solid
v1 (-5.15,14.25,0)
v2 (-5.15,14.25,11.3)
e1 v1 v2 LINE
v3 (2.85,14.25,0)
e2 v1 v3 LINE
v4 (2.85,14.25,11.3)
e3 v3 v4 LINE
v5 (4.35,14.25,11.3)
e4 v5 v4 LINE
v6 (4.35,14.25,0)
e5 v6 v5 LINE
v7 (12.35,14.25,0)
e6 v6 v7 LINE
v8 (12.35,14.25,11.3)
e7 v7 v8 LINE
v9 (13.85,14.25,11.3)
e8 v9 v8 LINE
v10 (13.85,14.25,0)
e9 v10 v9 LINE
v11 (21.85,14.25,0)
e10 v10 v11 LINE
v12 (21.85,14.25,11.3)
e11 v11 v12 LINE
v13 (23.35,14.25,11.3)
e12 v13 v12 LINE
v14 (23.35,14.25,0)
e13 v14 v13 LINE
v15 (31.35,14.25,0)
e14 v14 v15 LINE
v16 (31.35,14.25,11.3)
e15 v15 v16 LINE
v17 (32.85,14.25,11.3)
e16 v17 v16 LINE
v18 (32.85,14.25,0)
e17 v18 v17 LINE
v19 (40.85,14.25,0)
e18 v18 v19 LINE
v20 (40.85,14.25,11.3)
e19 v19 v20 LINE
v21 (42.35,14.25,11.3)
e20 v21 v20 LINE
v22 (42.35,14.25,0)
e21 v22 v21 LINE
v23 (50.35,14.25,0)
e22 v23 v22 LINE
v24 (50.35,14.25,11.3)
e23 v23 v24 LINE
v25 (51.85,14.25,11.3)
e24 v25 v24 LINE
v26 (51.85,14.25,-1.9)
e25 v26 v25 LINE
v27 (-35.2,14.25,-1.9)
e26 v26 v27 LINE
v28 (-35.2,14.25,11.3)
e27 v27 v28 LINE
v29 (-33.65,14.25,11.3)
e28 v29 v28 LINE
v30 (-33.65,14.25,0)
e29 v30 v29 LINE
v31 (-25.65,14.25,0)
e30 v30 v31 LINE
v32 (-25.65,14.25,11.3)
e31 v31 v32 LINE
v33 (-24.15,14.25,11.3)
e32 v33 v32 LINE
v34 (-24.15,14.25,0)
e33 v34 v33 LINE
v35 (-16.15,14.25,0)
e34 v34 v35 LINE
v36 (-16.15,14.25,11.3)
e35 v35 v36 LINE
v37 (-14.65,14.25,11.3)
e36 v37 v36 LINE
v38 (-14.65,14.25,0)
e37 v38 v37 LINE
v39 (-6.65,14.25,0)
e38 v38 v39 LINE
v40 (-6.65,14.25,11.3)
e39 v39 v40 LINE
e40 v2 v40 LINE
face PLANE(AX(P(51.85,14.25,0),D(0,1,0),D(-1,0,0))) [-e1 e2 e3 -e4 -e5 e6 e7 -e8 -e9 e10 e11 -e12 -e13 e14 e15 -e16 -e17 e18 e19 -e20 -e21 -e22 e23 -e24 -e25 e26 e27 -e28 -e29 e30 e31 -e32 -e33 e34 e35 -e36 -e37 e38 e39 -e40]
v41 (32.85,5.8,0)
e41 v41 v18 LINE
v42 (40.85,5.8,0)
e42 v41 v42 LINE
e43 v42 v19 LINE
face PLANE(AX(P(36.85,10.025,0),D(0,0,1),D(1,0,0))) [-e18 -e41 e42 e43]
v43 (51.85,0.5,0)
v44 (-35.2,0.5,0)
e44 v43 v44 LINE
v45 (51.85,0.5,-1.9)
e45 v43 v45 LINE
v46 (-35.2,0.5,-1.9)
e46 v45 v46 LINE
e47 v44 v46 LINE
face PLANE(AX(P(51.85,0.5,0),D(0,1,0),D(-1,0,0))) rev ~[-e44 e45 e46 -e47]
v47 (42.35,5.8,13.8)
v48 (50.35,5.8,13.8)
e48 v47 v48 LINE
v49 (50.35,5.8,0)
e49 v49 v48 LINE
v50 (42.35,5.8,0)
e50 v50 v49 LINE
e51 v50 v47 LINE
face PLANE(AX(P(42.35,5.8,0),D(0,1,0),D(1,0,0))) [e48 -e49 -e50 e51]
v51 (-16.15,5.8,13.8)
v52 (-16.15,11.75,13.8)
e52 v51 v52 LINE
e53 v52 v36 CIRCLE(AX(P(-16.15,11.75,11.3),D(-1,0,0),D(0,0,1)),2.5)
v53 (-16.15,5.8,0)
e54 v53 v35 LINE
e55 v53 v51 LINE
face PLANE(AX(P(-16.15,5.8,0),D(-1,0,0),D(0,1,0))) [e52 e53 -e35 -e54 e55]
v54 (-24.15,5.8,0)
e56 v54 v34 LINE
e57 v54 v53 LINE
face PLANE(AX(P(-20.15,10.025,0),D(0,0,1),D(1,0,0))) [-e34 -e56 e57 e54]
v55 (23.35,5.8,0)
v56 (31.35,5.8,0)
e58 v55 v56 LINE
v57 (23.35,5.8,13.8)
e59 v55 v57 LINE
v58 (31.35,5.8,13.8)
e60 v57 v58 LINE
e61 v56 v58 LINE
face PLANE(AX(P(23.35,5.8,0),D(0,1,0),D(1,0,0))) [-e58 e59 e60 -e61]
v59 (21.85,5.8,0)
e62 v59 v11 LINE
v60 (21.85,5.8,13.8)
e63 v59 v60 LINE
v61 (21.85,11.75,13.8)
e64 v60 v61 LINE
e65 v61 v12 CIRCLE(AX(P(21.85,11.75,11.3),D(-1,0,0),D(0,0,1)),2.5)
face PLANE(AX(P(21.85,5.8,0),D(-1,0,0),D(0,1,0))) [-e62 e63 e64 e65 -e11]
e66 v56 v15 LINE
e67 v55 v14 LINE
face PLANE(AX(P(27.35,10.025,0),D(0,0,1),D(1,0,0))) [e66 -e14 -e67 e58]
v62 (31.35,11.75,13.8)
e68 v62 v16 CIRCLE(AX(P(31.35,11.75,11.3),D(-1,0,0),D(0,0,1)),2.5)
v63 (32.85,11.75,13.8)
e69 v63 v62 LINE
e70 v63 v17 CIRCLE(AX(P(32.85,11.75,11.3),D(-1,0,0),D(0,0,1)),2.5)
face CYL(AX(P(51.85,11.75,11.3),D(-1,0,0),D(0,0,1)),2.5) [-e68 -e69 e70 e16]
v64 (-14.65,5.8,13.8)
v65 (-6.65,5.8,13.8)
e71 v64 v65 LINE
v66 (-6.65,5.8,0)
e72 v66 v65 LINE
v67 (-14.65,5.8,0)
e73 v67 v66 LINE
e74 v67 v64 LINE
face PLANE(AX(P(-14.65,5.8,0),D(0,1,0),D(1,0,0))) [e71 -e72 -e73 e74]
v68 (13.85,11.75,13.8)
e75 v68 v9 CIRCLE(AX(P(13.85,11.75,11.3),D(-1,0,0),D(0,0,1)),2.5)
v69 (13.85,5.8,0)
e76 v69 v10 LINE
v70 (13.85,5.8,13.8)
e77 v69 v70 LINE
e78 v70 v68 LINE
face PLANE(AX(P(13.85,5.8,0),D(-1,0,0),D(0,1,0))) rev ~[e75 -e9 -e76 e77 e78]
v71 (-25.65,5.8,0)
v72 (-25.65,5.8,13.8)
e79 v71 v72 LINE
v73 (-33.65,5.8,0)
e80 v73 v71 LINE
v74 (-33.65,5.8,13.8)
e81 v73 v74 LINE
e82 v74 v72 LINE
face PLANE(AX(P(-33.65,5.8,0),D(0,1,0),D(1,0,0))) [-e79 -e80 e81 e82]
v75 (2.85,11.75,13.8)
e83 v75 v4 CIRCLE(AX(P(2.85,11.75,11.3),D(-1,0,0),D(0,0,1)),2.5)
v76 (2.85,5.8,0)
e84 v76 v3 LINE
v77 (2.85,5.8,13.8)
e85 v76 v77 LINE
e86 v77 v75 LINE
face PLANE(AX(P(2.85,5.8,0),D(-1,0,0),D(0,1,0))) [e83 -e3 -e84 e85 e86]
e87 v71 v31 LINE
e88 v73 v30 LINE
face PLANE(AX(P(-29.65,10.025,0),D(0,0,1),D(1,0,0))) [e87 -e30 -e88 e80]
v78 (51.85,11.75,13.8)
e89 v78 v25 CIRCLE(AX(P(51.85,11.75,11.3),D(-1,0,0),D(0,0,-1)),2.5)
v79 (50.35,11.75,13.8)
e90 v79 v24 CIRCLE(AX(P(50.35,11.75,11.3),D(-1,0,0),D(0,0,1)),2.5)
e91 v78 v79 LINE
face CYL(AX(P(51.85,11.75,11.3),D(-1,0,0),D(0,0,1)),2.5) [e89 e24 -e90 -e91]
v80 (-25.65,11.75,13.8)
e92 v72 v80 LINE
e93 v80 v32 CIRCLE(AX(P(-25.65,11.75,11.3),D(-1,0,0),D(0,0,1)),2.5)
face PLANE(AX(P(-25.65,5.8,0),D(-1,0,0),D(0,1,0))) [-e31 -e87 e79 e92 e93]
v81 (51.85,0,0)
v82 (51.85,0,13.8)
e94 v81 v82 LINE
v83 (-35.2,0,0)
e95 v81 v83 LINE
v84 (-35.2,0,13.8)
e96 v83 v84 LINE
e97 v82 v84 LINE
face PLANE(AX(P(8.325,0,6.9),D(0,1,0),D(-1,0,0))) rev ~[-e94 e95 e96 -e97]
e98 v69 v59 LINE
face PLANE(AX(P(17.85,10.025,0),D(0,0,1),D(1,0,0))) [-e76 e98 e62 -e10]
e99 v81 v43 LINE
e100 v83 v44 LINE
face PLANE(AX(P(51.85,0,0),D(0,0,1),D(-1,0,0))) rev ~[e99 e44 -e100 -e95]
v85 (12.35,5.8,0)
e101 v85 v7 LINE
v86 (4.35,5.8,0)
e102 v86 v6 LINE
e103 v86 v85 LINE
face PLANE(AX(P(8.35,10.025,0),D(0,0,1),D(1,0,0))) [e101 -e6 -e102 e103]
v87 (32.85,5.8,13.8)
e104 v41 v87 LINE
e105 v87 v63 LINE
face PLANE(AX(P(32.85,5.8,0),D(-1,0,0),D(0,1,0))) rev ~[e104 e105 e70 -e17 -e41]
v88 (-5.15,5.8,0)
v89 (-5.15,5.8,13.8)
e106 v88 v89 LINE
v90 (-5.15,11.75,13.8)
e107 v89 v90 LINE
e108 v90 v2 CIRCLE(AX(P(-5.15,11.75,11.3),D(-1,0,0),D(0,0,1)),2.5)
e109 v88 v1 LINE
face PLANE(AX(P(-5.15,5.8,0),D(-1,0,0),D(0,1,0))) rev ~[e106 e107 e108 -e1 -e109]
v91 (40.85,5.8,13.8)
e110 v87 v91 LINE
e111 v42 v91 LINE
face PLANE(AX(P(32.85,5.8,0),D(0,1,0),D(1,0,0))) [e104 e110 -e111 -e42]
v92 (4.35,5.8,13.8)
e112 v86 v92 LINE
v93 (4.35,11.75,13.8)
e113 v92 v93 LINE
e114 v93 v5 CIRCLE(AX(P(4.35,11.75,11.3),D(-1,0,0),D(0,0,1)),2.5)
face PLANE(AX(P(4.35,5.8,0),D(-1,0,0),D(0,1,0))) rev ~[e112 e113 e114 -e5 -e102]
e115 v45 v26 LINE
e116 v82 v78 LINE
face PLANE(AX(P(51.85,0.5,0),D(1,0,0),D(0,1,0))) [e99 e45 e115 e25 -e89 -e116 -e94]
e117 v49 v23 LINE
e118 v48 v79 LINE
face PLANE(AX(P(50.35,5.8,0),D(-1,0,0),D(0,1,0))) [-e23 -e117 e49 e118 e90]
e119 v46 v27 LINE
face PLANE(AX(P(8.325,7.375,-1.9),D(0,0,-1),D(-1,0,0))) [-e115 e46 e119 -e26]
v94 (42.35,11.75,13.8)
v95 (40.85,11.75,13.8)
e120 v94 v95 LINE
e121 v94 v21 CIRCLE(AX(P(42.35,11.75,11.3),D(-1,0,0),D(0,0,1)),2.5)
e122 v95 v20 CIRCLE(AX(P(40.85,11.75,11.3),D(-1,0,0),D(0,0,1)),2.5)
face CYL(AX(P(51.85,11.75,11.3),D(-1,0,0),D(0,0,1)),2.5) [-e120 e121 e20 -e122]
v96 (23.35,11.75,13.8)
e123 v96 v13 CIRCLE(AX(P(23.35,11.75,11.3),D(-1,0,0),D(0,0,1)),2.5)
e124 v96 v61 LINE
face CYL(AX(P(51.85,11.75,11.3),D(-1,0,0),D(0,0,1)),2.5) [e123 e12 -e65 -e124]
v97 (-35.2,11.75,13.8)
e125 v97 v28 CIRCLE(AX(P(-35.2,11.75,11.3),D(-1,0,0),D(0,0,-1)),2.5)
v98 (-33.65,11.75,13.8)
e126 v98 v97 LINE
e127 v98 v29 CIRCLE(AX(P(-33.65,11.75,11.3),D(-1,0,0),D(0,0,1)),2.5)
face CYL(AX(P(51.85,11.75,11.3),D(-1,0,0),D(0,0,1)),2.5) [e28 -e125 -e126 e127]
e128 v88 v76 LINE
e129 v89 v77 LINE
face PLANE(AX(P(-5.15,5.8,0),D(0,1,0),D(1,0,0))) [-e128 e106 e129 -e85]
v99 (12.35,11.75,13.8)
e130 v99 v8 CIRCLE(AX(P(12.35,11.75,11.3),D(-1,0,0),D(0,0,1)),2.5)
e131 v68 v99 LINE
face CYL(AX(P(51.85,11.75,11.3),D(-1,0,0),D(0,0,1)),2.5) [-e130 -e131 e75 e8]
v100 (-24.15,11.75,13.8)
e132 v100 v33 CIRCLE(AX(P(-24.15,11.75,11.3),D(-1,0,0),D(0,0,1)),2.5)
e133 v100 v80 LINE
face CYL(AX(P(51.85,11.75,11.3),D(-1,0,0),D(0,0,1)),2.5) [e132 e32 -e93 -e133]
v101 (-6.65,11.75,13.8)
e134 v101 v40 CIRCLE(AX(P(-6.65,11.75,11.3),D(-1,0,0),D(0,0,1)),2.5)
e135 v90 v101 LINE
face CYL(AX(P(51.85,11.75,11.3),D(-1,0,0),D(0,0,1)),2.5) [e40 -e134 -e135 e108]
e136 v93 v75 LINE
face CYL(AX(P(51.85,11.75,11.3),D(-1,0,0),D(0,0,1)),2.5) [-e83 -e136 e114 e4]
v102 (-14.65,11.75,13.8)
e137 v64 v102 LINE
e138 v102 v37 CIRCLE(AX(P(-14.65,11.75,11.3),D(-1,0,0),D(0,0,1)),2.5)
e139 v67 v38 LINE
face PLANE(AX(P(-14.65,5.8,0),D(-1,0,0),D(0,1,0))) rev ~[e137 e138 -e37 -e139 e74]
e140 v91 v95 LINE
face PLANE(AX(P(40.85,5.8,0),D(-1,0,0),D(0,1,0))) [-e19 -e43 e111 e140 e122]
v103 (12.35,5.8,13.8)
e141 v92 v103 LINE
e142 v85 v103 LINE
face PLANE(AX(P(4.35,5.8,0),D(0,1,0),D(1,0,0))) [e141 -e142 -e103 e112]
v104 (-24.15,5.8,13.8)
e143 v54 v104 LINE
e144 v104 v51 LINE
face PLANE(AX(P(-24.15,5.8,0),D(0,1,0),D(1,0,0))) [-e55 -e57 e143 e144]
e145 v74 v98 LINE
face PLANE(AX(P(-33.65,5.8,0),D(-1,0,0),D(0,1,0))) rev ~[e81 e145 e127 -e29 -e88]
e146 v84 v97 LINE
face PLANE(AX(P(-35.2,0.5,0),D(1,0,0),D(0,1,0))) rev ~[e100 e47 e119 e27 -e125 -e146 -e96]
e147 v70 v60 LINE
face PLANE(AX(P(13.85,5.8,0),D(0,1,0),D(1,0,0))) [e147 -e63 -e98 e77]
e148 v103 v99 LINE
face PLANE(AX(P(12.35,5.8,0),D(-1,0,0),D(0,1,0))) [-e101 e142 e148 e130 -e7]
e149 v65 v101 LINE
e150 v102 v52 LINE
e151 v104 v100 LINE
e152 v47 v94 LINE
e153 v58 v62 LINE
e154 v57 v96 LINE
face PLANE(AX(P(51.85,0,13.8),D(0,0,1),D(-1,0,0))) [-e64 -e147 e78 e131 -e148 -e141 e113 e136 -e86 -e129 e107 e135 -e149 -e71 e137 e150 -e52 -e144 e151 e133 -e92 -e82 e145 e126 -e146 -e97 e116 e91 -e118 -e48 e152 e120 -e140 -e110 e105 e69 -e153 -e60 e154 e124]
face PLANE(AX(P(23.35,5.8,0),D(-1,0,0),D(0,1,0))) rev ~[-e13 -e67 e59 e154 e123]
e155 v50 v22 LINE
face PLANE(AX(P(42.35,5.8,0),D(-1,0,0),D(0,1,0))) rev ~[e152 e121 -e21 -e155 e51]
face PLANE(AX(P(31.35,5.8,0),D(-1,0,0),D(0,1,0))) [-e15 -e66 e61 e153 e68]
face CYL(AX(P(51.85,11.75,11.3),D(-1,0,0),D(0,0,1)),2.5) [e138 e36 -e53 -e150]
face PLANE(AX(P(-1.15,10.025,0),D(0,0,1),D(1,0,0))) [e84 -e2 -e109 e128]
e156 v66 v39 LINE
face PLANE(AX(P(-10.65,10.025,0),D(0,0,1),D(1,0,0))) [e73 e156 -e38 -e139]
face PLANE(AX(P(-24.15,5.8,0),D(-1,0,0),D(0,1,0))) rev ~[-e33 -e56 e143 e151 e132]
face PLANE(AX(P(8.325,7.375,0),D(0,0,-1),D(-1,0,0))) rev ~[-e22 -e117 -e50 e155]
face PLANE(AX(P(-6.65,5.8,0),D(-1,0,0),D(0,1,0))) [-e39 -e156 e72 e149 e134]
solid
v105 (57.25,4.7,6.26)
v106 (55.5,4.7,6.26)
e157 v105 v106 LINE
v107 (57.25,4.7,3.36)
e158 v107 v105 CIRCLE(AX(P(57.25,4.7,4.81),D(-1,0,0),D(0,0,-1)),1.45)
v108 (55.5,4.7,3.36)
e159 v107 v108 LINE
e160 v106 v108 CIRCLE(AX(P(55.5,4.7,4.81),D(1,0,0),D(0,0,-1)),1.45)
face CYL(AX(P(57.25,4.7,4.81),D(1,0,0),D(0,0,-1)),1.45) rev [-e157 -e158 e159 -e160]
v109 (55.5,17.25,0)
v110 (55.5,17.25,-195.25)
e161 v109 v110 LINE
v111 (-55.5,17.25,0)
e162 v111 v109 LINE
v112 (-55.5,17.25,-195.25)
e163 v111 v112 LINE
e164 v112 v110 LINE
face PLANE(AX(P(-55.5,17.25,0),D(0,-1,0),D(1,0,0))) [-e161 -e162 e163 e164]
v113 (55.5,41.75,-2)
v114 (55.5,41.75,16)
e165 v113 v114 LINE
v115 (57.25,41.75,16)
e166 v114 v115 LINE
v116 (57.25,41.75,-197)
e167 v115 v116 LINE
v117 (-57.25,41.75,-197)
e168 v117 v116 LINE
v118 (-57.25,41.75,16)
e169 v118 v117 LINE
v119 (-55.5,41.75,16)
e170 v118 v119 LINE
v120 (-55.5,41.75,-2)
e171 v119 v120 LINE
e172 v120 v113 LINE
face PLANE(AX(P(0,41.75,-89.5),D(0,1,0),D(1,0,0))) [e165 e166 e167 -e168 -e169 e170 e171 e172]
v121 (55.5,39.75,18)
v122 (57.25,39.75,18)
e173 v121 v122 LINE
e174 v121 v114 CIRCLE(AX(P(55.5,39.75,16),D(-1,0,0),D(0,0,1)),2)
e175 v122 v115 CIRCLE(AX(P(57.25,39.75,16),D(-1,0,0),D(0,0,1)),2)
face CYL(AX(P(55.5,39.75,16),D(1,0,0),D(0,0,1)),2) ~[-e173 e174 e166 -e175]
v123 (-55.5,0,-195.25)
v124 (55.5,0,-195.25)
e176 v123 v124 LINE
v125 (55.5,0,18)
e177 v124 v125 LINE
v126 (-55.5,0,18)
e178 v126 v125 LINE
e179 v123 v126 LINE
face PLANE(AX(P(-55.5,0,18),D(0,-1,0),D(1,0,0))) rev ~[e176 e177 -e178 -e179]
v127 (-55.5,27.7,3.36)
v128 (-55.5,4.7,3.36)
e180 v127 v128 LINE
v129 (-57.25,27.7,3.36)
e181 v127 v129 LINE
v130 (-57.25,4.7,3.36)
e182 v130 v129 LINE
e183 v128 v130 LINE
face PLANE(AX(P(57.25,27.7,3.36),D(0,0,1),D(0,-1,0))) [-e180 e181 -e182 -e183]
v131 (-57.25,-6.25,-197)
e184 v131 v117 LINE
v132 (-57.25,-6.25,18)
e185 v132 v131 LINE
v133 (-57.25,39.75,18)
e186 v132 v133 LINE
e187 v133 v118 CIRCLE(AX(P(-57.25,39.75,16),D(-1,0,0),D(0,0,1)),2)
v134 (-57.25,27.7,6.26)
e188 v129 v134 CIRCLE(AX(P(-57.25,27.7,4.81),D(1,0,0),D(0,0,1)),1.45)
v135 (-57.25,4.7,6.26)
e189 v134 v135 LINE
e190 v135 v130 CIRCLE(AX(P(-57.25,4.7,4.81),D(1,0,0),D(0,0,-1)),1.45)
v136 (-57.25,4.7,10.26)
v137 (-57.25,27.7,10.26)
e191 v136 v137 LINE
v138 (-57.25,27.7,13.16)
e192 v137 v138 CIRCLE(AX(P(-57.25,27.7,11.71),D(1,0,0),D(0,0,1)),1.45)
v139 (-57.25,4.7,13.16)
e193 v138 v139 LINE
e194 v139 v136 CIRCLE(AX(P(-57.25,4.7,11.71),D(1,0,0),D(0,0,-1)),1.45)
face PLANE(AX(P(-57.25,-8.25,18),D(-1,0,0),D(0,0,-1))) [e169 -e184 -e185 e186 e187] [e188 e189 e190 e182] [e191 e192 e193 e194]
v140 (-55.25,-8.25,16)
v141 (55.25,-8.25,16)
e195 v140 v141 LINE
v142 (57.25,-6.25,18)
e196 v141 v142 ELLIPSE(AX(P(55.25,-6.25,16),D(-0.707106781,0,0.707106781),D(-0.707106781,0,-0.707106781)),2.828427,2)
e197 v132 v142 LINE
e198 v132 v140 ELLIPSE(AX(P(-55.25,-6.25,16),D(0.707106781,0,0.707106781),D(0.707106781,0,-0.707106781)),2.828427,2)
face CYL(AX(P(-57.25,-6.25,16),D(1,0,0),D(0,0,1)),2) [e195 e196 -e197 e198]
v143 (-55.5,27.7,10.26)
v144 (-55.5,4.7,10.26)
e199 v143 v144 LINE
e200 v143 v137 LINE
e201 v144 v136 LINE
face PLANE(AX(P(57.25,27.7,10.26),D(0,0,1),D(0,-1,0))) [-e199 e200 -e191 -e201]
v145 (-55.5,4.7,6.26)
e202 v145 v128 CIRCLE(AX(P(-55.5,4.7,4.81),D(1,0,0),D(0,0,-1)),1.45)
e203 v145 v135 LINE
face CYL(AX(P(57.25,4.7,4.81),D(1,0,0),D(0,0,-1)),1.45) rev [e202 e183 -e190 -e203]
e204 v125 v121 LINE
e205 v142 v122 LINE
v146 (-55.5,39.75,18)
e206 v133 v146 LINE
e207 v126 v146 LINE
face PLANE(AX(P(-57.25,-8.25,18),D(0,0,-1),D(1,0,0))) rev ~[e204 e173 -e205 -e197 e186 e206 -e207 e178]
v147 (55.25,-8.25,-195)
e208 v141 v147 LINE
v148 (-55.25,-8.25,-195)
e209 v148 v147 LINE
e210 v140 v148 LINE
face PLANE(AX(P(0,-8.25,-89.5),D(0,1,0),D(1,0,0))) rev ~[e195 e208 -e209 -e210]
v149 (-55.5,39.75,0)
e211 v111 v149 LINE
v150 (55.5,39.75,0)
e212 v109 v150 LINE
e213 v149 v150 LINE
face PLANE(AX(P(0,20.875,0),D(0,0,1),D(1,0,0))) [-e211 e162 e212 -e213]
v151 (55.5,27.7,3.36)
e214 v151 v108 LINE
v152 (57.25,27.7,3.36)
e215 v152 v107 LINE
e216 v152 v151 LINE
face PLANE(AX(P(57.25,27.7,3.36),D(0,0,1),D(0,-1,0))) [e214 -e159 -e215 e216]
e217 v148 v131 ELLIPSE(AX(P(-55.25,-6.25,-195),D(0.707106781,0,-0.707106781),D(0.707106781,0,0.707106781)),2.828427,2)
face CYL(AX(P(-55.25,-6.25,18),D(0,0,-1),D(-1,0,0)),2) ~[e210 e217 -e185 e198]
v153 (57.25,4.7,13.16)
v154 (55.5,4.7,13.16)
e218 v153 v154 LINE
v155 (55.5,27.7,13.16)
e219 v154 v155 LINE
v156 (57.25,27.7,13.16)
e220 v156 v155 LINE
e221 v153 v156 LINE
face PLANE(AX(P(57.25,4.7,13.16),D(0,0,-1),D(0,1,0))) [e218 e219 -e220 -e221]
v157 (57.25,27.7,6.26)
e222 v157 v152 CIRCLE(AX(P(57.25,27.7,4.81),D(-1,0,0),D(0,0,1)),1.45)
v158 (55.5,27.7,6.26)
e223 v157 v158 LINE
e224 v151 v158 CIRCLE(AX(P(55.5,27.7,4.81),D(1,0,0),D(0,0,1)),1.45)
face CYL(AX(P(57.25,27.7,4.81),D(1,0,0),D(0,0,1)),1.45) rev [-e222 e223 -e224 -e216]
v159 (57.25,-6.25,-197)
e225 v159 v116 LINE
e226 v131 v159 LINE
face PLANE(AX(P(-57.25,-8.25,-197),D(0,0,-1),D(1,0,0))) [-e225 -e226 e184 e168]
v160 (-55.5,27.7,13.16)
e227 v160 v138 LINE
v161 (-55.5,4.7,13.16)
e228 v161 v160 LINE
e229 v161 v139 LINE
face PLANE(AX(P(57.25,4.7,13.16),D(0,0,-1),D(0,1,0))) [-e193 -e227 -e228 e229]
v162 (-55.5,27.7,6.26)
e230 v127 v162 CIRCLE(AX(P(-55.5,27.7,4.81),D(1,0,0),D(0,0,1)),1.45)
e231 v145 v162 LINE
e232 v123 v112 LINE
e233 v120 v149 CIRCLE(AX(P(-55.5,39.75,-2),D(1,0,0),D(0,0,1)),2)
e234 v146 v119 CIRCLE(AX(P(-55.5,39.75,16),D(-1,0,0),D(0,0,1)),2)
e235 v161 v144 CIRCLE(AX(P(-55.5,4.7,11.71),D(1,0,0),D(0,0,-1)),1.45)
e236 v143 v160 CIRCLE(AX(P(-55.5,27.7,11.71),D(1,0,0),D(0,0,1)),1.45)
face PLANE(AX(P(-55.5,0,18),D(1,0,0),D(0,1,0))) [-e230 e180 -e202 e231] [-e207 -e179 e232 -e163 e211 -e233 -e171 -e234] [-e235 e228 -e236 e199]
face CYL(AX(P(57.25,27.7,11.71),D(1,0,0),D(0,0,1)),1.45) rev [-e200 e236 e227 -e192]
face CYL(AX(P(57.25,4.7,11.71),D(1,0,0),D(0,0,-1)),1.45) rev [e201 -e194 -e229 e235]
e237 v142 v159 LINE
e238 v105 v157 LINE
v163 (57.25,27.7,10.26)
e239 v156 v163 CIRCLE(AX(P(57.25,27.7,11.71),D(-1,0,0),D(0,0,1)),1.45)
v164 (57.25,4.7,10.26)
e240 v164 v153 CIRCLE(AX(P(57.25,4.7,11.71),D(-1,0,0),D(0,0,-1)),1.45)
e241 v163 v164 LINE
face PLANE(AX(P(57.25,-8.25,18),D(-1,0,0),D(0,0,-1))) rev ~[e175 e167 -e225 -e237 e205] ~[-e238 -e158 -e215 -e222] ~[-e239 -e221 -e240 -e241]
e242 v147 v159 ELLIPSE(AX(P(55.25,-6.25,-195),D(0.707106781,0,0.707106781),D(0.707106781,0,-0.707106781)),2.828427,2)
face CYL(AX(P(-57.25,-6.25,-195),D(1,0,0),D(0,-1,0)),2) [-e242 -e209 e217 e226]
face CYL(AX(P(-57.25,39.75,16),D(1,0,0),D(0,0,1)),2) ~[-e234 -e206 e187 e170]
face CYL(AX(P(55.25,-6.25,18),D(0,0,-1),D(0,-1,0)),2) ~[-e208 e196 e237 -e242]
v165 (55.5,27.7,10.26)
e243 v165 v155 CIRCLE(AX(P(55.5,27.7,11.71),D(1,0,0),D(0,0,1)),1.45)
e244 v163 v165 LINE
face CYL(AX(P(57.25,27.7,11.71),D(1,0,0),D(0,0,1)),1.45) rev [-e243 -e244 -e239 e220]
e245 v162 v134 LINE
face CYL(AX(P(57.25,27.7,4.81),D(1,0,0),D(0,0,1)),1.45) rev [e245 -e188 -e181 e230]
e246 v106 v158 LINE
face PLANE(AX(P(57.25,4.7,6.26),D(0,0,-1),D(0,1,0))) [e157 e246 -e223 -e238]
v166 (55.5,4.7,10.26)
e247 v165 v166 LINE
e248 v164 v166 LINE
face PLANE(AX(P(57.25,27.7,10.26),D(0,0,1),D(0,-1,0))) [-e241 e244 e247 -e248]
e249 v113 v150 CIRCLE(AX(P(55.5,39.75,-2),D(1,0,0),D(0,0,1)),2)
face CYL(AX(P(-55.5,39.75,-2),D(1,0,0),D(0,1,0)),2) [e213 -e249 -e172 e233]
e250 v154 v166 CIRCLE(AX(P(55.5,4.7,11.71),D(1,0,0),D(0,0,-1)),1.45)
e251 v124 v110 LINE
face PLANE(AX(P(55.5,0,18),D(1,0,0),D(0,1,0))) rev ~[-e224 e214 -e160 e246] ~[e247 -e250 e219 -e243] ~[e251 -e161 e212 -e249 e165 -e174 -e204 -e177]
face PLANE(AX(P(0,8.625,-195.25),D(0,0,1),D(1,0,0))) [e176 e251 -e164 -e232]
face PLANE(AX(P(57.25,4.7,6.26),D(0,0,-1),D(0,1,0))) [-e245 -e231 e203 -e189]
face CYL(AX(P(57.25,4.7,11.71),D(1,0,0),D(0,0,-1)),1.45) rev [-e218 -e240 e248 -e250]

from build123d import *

# Parameters (mm, degrees)
BOSS_EXTRUDE1_DEPTH      = 41.75
BOSS_EXTRUDE1_DEPTH_BACK = 8.25
SKETCH1_W                = 114.5
SKETCH1_H                = 215
SKETCH2_W                = 111
SKETCH2_H                = 41.75
CUT_EXTRUDE1_DEPTH       = 18
CUT_EXTRUDE2_DEPTH       = 232.651273469
FILLET1_R                = 2
SKETCH4_W                = 87.05
SKETCH4_H                = 13.8
BOSS_EXTRUDE2_DEPTH      = 14.25
SKETCH7_W                = 111
SKETCH7_H                = 17.25
CUT_EXTRUDE4_DEPTH       = 195.25
FILLET2_R                = 2.5
CUT_EXTRUDE3_START       = -13.8
SKETCH6_W                = 8
SKETCH6_H                = 8.45
CUT_EXTRUDE3_DEPTH       = 13.8
SKETCH9_W                = 87.05
SKETCH9_H                = 13.75
BOSS_EXTRUDE6_DEPTH      = 1.9
LPATTERN1_COUNT          = 9
LPATTERN1_PITCH          = 9.5


with BuildPart() as part:
    # Sketch1 → Boss-Extrude1 (new, two sides: drawn at the far end of the back side and taken through both)
    with BuildSketch(Plane(origin=(0, 0, 0), x_dir=(1, 0, 0), z_dir=(0, 1, 0)).offset(-BOSS_EXTRUDE1_DEPTH_BACK)):
        with Locations((0, 89.5)):
            Rectangle(SKETCH1_W, SKETCH1_H)
    extrude(amount=BOSS_EXTRUDE1_DEPTH + BOSS_EXTRUDE1_DEPTH_BACK)

    # Sketch2 → Cut-Extrude1 (cut)
    with BuildSketch(Plane.XY.offset(18)):
        with Locations((0, 20.875)):
            Rectangle(SKETCH2_W, SKETCH2_H)
    extrude(amount=-CUT_EXTRUDE1_DEPTH, mode=Mode.SUBTRACT)

    # Sketch3 → Cut-Extrude2 (cut, through all)
    with BuildSketch(Plane(origin=(57.25, 0, 0), x_dir=(0, 0, -1), z_dir=(1, 0, 0))):
        with BuildLine():
            Line((-10.26, 27.7), (-10.26, 4.7))
            ThreePointArc((-10.26, 4.7), (-11.71, 3.25), (-13.16, 4.7))
            Line((-13.16, 4.7), (-13.16, 27.7))
            ThreePointArc((-13.16, 27.7), (-11.71, 29.15), (-10.26, 27.7))
        make_face()
        with BuildLine():
            Line((-3.36, 27.7), (-3.36, 4.7))
            ThreePointArc((-3.36, 4.7), (-4.81, 3.25), (-6.26, 4.7))
            Line((-6.26, 4.7), (-6.26, 27.7))
            ThreePointArc((-6.26, 27.7), (-4.81, 29.15), (-3.36, 27.7))
        make_face()
    extrude(amount=-CUT_EXTRUDE2_DEPTH, mode=Mode.SUBTRACT)

    # Fillet1
    fillet1_edges = [part.edges().sort_by_distance(p)[0] for p in [
        (57.25, -8.25, -89.5),
        (-56.375, 41.75, 18),
        (0, -8.25, -197),
        (56.375, 41.75, 18),
        (0, 41.75, 0),
        (-57.25, -8.25, -89.5),
        (0, -8.25, 18),
    ]]
    fillet(fillet1_edges, radius=FILLET1_R)

    # Sketch7 → Cut-Extrude4 (cut)
    with BuildSketch(Plane.XY):
        with Locations((0, 8.625)):
            Rectangle(SKETCH7_W, SKETCH7_H)
    extrude(amount=-CUT_EXTRUDE4_DEPTH, mode=Mode.SUBTRACT)


with BuildPart() as body_2:
    # Sketch4 → Boss-Extrude2 (new body)
    with BuildSketch(Plane(origin=(0, 0, 0), x_dir=(-1, 0, 0), z_dir=(0, 1, 0))):
        with Locations((-8.325, 6.9)):
            Rectangle(SKETCH4_W, SKETCH4_H)
    extrude(amount=BOSS_EXTRUDE2_DEPTH)

    # Fillet2
    fillet2_edges = [body_2.edges().sort_by_distance(p)[0] for p in [
        (8.325, 14.25, 13.8),
    ]]
    fillet(fillet2_edges, radius=FILLET2_R)

    # Sketch6 → Cut-Extrude3 (cut)
    with BuildSketch(Plane.XY.offset(13.8).offset(CUT_EXTRUDE3_START)):
        with Locations((46.35, 10.025)):
            Rectangle(SKETCH6_W, SKETCH6_H)
    cut_extrude3 = extrude(amount=CUT_EXTRUDE3_DEPTH, mode=Mode.SUBTRACT)

    # Sketch9 → Boss-Extrude6 (add)
    with BuildSketch(Plane(origin=(0, 0, 0), x_dir=(-1, 0, 0), z_dir=(0, 0, -1))):
        with Locations((-8.325, 7.375)):
            Rectangle(SKETCH9_W, SKETCH9_H)
    extrude(amount=BOSS_EXTRUDE6_DEPTH)

    # LPattern1: Cut-Extrude3 ×9
    with Locations(*[(-i * LPATTERN1_PITCH, 0, 0) for i in range(1, LPATTERN1_COUNT)]):
        add(cut_extrude3, mode=Mode.SUBTRACT)


solid = Compound([part.part, body_2.part])
